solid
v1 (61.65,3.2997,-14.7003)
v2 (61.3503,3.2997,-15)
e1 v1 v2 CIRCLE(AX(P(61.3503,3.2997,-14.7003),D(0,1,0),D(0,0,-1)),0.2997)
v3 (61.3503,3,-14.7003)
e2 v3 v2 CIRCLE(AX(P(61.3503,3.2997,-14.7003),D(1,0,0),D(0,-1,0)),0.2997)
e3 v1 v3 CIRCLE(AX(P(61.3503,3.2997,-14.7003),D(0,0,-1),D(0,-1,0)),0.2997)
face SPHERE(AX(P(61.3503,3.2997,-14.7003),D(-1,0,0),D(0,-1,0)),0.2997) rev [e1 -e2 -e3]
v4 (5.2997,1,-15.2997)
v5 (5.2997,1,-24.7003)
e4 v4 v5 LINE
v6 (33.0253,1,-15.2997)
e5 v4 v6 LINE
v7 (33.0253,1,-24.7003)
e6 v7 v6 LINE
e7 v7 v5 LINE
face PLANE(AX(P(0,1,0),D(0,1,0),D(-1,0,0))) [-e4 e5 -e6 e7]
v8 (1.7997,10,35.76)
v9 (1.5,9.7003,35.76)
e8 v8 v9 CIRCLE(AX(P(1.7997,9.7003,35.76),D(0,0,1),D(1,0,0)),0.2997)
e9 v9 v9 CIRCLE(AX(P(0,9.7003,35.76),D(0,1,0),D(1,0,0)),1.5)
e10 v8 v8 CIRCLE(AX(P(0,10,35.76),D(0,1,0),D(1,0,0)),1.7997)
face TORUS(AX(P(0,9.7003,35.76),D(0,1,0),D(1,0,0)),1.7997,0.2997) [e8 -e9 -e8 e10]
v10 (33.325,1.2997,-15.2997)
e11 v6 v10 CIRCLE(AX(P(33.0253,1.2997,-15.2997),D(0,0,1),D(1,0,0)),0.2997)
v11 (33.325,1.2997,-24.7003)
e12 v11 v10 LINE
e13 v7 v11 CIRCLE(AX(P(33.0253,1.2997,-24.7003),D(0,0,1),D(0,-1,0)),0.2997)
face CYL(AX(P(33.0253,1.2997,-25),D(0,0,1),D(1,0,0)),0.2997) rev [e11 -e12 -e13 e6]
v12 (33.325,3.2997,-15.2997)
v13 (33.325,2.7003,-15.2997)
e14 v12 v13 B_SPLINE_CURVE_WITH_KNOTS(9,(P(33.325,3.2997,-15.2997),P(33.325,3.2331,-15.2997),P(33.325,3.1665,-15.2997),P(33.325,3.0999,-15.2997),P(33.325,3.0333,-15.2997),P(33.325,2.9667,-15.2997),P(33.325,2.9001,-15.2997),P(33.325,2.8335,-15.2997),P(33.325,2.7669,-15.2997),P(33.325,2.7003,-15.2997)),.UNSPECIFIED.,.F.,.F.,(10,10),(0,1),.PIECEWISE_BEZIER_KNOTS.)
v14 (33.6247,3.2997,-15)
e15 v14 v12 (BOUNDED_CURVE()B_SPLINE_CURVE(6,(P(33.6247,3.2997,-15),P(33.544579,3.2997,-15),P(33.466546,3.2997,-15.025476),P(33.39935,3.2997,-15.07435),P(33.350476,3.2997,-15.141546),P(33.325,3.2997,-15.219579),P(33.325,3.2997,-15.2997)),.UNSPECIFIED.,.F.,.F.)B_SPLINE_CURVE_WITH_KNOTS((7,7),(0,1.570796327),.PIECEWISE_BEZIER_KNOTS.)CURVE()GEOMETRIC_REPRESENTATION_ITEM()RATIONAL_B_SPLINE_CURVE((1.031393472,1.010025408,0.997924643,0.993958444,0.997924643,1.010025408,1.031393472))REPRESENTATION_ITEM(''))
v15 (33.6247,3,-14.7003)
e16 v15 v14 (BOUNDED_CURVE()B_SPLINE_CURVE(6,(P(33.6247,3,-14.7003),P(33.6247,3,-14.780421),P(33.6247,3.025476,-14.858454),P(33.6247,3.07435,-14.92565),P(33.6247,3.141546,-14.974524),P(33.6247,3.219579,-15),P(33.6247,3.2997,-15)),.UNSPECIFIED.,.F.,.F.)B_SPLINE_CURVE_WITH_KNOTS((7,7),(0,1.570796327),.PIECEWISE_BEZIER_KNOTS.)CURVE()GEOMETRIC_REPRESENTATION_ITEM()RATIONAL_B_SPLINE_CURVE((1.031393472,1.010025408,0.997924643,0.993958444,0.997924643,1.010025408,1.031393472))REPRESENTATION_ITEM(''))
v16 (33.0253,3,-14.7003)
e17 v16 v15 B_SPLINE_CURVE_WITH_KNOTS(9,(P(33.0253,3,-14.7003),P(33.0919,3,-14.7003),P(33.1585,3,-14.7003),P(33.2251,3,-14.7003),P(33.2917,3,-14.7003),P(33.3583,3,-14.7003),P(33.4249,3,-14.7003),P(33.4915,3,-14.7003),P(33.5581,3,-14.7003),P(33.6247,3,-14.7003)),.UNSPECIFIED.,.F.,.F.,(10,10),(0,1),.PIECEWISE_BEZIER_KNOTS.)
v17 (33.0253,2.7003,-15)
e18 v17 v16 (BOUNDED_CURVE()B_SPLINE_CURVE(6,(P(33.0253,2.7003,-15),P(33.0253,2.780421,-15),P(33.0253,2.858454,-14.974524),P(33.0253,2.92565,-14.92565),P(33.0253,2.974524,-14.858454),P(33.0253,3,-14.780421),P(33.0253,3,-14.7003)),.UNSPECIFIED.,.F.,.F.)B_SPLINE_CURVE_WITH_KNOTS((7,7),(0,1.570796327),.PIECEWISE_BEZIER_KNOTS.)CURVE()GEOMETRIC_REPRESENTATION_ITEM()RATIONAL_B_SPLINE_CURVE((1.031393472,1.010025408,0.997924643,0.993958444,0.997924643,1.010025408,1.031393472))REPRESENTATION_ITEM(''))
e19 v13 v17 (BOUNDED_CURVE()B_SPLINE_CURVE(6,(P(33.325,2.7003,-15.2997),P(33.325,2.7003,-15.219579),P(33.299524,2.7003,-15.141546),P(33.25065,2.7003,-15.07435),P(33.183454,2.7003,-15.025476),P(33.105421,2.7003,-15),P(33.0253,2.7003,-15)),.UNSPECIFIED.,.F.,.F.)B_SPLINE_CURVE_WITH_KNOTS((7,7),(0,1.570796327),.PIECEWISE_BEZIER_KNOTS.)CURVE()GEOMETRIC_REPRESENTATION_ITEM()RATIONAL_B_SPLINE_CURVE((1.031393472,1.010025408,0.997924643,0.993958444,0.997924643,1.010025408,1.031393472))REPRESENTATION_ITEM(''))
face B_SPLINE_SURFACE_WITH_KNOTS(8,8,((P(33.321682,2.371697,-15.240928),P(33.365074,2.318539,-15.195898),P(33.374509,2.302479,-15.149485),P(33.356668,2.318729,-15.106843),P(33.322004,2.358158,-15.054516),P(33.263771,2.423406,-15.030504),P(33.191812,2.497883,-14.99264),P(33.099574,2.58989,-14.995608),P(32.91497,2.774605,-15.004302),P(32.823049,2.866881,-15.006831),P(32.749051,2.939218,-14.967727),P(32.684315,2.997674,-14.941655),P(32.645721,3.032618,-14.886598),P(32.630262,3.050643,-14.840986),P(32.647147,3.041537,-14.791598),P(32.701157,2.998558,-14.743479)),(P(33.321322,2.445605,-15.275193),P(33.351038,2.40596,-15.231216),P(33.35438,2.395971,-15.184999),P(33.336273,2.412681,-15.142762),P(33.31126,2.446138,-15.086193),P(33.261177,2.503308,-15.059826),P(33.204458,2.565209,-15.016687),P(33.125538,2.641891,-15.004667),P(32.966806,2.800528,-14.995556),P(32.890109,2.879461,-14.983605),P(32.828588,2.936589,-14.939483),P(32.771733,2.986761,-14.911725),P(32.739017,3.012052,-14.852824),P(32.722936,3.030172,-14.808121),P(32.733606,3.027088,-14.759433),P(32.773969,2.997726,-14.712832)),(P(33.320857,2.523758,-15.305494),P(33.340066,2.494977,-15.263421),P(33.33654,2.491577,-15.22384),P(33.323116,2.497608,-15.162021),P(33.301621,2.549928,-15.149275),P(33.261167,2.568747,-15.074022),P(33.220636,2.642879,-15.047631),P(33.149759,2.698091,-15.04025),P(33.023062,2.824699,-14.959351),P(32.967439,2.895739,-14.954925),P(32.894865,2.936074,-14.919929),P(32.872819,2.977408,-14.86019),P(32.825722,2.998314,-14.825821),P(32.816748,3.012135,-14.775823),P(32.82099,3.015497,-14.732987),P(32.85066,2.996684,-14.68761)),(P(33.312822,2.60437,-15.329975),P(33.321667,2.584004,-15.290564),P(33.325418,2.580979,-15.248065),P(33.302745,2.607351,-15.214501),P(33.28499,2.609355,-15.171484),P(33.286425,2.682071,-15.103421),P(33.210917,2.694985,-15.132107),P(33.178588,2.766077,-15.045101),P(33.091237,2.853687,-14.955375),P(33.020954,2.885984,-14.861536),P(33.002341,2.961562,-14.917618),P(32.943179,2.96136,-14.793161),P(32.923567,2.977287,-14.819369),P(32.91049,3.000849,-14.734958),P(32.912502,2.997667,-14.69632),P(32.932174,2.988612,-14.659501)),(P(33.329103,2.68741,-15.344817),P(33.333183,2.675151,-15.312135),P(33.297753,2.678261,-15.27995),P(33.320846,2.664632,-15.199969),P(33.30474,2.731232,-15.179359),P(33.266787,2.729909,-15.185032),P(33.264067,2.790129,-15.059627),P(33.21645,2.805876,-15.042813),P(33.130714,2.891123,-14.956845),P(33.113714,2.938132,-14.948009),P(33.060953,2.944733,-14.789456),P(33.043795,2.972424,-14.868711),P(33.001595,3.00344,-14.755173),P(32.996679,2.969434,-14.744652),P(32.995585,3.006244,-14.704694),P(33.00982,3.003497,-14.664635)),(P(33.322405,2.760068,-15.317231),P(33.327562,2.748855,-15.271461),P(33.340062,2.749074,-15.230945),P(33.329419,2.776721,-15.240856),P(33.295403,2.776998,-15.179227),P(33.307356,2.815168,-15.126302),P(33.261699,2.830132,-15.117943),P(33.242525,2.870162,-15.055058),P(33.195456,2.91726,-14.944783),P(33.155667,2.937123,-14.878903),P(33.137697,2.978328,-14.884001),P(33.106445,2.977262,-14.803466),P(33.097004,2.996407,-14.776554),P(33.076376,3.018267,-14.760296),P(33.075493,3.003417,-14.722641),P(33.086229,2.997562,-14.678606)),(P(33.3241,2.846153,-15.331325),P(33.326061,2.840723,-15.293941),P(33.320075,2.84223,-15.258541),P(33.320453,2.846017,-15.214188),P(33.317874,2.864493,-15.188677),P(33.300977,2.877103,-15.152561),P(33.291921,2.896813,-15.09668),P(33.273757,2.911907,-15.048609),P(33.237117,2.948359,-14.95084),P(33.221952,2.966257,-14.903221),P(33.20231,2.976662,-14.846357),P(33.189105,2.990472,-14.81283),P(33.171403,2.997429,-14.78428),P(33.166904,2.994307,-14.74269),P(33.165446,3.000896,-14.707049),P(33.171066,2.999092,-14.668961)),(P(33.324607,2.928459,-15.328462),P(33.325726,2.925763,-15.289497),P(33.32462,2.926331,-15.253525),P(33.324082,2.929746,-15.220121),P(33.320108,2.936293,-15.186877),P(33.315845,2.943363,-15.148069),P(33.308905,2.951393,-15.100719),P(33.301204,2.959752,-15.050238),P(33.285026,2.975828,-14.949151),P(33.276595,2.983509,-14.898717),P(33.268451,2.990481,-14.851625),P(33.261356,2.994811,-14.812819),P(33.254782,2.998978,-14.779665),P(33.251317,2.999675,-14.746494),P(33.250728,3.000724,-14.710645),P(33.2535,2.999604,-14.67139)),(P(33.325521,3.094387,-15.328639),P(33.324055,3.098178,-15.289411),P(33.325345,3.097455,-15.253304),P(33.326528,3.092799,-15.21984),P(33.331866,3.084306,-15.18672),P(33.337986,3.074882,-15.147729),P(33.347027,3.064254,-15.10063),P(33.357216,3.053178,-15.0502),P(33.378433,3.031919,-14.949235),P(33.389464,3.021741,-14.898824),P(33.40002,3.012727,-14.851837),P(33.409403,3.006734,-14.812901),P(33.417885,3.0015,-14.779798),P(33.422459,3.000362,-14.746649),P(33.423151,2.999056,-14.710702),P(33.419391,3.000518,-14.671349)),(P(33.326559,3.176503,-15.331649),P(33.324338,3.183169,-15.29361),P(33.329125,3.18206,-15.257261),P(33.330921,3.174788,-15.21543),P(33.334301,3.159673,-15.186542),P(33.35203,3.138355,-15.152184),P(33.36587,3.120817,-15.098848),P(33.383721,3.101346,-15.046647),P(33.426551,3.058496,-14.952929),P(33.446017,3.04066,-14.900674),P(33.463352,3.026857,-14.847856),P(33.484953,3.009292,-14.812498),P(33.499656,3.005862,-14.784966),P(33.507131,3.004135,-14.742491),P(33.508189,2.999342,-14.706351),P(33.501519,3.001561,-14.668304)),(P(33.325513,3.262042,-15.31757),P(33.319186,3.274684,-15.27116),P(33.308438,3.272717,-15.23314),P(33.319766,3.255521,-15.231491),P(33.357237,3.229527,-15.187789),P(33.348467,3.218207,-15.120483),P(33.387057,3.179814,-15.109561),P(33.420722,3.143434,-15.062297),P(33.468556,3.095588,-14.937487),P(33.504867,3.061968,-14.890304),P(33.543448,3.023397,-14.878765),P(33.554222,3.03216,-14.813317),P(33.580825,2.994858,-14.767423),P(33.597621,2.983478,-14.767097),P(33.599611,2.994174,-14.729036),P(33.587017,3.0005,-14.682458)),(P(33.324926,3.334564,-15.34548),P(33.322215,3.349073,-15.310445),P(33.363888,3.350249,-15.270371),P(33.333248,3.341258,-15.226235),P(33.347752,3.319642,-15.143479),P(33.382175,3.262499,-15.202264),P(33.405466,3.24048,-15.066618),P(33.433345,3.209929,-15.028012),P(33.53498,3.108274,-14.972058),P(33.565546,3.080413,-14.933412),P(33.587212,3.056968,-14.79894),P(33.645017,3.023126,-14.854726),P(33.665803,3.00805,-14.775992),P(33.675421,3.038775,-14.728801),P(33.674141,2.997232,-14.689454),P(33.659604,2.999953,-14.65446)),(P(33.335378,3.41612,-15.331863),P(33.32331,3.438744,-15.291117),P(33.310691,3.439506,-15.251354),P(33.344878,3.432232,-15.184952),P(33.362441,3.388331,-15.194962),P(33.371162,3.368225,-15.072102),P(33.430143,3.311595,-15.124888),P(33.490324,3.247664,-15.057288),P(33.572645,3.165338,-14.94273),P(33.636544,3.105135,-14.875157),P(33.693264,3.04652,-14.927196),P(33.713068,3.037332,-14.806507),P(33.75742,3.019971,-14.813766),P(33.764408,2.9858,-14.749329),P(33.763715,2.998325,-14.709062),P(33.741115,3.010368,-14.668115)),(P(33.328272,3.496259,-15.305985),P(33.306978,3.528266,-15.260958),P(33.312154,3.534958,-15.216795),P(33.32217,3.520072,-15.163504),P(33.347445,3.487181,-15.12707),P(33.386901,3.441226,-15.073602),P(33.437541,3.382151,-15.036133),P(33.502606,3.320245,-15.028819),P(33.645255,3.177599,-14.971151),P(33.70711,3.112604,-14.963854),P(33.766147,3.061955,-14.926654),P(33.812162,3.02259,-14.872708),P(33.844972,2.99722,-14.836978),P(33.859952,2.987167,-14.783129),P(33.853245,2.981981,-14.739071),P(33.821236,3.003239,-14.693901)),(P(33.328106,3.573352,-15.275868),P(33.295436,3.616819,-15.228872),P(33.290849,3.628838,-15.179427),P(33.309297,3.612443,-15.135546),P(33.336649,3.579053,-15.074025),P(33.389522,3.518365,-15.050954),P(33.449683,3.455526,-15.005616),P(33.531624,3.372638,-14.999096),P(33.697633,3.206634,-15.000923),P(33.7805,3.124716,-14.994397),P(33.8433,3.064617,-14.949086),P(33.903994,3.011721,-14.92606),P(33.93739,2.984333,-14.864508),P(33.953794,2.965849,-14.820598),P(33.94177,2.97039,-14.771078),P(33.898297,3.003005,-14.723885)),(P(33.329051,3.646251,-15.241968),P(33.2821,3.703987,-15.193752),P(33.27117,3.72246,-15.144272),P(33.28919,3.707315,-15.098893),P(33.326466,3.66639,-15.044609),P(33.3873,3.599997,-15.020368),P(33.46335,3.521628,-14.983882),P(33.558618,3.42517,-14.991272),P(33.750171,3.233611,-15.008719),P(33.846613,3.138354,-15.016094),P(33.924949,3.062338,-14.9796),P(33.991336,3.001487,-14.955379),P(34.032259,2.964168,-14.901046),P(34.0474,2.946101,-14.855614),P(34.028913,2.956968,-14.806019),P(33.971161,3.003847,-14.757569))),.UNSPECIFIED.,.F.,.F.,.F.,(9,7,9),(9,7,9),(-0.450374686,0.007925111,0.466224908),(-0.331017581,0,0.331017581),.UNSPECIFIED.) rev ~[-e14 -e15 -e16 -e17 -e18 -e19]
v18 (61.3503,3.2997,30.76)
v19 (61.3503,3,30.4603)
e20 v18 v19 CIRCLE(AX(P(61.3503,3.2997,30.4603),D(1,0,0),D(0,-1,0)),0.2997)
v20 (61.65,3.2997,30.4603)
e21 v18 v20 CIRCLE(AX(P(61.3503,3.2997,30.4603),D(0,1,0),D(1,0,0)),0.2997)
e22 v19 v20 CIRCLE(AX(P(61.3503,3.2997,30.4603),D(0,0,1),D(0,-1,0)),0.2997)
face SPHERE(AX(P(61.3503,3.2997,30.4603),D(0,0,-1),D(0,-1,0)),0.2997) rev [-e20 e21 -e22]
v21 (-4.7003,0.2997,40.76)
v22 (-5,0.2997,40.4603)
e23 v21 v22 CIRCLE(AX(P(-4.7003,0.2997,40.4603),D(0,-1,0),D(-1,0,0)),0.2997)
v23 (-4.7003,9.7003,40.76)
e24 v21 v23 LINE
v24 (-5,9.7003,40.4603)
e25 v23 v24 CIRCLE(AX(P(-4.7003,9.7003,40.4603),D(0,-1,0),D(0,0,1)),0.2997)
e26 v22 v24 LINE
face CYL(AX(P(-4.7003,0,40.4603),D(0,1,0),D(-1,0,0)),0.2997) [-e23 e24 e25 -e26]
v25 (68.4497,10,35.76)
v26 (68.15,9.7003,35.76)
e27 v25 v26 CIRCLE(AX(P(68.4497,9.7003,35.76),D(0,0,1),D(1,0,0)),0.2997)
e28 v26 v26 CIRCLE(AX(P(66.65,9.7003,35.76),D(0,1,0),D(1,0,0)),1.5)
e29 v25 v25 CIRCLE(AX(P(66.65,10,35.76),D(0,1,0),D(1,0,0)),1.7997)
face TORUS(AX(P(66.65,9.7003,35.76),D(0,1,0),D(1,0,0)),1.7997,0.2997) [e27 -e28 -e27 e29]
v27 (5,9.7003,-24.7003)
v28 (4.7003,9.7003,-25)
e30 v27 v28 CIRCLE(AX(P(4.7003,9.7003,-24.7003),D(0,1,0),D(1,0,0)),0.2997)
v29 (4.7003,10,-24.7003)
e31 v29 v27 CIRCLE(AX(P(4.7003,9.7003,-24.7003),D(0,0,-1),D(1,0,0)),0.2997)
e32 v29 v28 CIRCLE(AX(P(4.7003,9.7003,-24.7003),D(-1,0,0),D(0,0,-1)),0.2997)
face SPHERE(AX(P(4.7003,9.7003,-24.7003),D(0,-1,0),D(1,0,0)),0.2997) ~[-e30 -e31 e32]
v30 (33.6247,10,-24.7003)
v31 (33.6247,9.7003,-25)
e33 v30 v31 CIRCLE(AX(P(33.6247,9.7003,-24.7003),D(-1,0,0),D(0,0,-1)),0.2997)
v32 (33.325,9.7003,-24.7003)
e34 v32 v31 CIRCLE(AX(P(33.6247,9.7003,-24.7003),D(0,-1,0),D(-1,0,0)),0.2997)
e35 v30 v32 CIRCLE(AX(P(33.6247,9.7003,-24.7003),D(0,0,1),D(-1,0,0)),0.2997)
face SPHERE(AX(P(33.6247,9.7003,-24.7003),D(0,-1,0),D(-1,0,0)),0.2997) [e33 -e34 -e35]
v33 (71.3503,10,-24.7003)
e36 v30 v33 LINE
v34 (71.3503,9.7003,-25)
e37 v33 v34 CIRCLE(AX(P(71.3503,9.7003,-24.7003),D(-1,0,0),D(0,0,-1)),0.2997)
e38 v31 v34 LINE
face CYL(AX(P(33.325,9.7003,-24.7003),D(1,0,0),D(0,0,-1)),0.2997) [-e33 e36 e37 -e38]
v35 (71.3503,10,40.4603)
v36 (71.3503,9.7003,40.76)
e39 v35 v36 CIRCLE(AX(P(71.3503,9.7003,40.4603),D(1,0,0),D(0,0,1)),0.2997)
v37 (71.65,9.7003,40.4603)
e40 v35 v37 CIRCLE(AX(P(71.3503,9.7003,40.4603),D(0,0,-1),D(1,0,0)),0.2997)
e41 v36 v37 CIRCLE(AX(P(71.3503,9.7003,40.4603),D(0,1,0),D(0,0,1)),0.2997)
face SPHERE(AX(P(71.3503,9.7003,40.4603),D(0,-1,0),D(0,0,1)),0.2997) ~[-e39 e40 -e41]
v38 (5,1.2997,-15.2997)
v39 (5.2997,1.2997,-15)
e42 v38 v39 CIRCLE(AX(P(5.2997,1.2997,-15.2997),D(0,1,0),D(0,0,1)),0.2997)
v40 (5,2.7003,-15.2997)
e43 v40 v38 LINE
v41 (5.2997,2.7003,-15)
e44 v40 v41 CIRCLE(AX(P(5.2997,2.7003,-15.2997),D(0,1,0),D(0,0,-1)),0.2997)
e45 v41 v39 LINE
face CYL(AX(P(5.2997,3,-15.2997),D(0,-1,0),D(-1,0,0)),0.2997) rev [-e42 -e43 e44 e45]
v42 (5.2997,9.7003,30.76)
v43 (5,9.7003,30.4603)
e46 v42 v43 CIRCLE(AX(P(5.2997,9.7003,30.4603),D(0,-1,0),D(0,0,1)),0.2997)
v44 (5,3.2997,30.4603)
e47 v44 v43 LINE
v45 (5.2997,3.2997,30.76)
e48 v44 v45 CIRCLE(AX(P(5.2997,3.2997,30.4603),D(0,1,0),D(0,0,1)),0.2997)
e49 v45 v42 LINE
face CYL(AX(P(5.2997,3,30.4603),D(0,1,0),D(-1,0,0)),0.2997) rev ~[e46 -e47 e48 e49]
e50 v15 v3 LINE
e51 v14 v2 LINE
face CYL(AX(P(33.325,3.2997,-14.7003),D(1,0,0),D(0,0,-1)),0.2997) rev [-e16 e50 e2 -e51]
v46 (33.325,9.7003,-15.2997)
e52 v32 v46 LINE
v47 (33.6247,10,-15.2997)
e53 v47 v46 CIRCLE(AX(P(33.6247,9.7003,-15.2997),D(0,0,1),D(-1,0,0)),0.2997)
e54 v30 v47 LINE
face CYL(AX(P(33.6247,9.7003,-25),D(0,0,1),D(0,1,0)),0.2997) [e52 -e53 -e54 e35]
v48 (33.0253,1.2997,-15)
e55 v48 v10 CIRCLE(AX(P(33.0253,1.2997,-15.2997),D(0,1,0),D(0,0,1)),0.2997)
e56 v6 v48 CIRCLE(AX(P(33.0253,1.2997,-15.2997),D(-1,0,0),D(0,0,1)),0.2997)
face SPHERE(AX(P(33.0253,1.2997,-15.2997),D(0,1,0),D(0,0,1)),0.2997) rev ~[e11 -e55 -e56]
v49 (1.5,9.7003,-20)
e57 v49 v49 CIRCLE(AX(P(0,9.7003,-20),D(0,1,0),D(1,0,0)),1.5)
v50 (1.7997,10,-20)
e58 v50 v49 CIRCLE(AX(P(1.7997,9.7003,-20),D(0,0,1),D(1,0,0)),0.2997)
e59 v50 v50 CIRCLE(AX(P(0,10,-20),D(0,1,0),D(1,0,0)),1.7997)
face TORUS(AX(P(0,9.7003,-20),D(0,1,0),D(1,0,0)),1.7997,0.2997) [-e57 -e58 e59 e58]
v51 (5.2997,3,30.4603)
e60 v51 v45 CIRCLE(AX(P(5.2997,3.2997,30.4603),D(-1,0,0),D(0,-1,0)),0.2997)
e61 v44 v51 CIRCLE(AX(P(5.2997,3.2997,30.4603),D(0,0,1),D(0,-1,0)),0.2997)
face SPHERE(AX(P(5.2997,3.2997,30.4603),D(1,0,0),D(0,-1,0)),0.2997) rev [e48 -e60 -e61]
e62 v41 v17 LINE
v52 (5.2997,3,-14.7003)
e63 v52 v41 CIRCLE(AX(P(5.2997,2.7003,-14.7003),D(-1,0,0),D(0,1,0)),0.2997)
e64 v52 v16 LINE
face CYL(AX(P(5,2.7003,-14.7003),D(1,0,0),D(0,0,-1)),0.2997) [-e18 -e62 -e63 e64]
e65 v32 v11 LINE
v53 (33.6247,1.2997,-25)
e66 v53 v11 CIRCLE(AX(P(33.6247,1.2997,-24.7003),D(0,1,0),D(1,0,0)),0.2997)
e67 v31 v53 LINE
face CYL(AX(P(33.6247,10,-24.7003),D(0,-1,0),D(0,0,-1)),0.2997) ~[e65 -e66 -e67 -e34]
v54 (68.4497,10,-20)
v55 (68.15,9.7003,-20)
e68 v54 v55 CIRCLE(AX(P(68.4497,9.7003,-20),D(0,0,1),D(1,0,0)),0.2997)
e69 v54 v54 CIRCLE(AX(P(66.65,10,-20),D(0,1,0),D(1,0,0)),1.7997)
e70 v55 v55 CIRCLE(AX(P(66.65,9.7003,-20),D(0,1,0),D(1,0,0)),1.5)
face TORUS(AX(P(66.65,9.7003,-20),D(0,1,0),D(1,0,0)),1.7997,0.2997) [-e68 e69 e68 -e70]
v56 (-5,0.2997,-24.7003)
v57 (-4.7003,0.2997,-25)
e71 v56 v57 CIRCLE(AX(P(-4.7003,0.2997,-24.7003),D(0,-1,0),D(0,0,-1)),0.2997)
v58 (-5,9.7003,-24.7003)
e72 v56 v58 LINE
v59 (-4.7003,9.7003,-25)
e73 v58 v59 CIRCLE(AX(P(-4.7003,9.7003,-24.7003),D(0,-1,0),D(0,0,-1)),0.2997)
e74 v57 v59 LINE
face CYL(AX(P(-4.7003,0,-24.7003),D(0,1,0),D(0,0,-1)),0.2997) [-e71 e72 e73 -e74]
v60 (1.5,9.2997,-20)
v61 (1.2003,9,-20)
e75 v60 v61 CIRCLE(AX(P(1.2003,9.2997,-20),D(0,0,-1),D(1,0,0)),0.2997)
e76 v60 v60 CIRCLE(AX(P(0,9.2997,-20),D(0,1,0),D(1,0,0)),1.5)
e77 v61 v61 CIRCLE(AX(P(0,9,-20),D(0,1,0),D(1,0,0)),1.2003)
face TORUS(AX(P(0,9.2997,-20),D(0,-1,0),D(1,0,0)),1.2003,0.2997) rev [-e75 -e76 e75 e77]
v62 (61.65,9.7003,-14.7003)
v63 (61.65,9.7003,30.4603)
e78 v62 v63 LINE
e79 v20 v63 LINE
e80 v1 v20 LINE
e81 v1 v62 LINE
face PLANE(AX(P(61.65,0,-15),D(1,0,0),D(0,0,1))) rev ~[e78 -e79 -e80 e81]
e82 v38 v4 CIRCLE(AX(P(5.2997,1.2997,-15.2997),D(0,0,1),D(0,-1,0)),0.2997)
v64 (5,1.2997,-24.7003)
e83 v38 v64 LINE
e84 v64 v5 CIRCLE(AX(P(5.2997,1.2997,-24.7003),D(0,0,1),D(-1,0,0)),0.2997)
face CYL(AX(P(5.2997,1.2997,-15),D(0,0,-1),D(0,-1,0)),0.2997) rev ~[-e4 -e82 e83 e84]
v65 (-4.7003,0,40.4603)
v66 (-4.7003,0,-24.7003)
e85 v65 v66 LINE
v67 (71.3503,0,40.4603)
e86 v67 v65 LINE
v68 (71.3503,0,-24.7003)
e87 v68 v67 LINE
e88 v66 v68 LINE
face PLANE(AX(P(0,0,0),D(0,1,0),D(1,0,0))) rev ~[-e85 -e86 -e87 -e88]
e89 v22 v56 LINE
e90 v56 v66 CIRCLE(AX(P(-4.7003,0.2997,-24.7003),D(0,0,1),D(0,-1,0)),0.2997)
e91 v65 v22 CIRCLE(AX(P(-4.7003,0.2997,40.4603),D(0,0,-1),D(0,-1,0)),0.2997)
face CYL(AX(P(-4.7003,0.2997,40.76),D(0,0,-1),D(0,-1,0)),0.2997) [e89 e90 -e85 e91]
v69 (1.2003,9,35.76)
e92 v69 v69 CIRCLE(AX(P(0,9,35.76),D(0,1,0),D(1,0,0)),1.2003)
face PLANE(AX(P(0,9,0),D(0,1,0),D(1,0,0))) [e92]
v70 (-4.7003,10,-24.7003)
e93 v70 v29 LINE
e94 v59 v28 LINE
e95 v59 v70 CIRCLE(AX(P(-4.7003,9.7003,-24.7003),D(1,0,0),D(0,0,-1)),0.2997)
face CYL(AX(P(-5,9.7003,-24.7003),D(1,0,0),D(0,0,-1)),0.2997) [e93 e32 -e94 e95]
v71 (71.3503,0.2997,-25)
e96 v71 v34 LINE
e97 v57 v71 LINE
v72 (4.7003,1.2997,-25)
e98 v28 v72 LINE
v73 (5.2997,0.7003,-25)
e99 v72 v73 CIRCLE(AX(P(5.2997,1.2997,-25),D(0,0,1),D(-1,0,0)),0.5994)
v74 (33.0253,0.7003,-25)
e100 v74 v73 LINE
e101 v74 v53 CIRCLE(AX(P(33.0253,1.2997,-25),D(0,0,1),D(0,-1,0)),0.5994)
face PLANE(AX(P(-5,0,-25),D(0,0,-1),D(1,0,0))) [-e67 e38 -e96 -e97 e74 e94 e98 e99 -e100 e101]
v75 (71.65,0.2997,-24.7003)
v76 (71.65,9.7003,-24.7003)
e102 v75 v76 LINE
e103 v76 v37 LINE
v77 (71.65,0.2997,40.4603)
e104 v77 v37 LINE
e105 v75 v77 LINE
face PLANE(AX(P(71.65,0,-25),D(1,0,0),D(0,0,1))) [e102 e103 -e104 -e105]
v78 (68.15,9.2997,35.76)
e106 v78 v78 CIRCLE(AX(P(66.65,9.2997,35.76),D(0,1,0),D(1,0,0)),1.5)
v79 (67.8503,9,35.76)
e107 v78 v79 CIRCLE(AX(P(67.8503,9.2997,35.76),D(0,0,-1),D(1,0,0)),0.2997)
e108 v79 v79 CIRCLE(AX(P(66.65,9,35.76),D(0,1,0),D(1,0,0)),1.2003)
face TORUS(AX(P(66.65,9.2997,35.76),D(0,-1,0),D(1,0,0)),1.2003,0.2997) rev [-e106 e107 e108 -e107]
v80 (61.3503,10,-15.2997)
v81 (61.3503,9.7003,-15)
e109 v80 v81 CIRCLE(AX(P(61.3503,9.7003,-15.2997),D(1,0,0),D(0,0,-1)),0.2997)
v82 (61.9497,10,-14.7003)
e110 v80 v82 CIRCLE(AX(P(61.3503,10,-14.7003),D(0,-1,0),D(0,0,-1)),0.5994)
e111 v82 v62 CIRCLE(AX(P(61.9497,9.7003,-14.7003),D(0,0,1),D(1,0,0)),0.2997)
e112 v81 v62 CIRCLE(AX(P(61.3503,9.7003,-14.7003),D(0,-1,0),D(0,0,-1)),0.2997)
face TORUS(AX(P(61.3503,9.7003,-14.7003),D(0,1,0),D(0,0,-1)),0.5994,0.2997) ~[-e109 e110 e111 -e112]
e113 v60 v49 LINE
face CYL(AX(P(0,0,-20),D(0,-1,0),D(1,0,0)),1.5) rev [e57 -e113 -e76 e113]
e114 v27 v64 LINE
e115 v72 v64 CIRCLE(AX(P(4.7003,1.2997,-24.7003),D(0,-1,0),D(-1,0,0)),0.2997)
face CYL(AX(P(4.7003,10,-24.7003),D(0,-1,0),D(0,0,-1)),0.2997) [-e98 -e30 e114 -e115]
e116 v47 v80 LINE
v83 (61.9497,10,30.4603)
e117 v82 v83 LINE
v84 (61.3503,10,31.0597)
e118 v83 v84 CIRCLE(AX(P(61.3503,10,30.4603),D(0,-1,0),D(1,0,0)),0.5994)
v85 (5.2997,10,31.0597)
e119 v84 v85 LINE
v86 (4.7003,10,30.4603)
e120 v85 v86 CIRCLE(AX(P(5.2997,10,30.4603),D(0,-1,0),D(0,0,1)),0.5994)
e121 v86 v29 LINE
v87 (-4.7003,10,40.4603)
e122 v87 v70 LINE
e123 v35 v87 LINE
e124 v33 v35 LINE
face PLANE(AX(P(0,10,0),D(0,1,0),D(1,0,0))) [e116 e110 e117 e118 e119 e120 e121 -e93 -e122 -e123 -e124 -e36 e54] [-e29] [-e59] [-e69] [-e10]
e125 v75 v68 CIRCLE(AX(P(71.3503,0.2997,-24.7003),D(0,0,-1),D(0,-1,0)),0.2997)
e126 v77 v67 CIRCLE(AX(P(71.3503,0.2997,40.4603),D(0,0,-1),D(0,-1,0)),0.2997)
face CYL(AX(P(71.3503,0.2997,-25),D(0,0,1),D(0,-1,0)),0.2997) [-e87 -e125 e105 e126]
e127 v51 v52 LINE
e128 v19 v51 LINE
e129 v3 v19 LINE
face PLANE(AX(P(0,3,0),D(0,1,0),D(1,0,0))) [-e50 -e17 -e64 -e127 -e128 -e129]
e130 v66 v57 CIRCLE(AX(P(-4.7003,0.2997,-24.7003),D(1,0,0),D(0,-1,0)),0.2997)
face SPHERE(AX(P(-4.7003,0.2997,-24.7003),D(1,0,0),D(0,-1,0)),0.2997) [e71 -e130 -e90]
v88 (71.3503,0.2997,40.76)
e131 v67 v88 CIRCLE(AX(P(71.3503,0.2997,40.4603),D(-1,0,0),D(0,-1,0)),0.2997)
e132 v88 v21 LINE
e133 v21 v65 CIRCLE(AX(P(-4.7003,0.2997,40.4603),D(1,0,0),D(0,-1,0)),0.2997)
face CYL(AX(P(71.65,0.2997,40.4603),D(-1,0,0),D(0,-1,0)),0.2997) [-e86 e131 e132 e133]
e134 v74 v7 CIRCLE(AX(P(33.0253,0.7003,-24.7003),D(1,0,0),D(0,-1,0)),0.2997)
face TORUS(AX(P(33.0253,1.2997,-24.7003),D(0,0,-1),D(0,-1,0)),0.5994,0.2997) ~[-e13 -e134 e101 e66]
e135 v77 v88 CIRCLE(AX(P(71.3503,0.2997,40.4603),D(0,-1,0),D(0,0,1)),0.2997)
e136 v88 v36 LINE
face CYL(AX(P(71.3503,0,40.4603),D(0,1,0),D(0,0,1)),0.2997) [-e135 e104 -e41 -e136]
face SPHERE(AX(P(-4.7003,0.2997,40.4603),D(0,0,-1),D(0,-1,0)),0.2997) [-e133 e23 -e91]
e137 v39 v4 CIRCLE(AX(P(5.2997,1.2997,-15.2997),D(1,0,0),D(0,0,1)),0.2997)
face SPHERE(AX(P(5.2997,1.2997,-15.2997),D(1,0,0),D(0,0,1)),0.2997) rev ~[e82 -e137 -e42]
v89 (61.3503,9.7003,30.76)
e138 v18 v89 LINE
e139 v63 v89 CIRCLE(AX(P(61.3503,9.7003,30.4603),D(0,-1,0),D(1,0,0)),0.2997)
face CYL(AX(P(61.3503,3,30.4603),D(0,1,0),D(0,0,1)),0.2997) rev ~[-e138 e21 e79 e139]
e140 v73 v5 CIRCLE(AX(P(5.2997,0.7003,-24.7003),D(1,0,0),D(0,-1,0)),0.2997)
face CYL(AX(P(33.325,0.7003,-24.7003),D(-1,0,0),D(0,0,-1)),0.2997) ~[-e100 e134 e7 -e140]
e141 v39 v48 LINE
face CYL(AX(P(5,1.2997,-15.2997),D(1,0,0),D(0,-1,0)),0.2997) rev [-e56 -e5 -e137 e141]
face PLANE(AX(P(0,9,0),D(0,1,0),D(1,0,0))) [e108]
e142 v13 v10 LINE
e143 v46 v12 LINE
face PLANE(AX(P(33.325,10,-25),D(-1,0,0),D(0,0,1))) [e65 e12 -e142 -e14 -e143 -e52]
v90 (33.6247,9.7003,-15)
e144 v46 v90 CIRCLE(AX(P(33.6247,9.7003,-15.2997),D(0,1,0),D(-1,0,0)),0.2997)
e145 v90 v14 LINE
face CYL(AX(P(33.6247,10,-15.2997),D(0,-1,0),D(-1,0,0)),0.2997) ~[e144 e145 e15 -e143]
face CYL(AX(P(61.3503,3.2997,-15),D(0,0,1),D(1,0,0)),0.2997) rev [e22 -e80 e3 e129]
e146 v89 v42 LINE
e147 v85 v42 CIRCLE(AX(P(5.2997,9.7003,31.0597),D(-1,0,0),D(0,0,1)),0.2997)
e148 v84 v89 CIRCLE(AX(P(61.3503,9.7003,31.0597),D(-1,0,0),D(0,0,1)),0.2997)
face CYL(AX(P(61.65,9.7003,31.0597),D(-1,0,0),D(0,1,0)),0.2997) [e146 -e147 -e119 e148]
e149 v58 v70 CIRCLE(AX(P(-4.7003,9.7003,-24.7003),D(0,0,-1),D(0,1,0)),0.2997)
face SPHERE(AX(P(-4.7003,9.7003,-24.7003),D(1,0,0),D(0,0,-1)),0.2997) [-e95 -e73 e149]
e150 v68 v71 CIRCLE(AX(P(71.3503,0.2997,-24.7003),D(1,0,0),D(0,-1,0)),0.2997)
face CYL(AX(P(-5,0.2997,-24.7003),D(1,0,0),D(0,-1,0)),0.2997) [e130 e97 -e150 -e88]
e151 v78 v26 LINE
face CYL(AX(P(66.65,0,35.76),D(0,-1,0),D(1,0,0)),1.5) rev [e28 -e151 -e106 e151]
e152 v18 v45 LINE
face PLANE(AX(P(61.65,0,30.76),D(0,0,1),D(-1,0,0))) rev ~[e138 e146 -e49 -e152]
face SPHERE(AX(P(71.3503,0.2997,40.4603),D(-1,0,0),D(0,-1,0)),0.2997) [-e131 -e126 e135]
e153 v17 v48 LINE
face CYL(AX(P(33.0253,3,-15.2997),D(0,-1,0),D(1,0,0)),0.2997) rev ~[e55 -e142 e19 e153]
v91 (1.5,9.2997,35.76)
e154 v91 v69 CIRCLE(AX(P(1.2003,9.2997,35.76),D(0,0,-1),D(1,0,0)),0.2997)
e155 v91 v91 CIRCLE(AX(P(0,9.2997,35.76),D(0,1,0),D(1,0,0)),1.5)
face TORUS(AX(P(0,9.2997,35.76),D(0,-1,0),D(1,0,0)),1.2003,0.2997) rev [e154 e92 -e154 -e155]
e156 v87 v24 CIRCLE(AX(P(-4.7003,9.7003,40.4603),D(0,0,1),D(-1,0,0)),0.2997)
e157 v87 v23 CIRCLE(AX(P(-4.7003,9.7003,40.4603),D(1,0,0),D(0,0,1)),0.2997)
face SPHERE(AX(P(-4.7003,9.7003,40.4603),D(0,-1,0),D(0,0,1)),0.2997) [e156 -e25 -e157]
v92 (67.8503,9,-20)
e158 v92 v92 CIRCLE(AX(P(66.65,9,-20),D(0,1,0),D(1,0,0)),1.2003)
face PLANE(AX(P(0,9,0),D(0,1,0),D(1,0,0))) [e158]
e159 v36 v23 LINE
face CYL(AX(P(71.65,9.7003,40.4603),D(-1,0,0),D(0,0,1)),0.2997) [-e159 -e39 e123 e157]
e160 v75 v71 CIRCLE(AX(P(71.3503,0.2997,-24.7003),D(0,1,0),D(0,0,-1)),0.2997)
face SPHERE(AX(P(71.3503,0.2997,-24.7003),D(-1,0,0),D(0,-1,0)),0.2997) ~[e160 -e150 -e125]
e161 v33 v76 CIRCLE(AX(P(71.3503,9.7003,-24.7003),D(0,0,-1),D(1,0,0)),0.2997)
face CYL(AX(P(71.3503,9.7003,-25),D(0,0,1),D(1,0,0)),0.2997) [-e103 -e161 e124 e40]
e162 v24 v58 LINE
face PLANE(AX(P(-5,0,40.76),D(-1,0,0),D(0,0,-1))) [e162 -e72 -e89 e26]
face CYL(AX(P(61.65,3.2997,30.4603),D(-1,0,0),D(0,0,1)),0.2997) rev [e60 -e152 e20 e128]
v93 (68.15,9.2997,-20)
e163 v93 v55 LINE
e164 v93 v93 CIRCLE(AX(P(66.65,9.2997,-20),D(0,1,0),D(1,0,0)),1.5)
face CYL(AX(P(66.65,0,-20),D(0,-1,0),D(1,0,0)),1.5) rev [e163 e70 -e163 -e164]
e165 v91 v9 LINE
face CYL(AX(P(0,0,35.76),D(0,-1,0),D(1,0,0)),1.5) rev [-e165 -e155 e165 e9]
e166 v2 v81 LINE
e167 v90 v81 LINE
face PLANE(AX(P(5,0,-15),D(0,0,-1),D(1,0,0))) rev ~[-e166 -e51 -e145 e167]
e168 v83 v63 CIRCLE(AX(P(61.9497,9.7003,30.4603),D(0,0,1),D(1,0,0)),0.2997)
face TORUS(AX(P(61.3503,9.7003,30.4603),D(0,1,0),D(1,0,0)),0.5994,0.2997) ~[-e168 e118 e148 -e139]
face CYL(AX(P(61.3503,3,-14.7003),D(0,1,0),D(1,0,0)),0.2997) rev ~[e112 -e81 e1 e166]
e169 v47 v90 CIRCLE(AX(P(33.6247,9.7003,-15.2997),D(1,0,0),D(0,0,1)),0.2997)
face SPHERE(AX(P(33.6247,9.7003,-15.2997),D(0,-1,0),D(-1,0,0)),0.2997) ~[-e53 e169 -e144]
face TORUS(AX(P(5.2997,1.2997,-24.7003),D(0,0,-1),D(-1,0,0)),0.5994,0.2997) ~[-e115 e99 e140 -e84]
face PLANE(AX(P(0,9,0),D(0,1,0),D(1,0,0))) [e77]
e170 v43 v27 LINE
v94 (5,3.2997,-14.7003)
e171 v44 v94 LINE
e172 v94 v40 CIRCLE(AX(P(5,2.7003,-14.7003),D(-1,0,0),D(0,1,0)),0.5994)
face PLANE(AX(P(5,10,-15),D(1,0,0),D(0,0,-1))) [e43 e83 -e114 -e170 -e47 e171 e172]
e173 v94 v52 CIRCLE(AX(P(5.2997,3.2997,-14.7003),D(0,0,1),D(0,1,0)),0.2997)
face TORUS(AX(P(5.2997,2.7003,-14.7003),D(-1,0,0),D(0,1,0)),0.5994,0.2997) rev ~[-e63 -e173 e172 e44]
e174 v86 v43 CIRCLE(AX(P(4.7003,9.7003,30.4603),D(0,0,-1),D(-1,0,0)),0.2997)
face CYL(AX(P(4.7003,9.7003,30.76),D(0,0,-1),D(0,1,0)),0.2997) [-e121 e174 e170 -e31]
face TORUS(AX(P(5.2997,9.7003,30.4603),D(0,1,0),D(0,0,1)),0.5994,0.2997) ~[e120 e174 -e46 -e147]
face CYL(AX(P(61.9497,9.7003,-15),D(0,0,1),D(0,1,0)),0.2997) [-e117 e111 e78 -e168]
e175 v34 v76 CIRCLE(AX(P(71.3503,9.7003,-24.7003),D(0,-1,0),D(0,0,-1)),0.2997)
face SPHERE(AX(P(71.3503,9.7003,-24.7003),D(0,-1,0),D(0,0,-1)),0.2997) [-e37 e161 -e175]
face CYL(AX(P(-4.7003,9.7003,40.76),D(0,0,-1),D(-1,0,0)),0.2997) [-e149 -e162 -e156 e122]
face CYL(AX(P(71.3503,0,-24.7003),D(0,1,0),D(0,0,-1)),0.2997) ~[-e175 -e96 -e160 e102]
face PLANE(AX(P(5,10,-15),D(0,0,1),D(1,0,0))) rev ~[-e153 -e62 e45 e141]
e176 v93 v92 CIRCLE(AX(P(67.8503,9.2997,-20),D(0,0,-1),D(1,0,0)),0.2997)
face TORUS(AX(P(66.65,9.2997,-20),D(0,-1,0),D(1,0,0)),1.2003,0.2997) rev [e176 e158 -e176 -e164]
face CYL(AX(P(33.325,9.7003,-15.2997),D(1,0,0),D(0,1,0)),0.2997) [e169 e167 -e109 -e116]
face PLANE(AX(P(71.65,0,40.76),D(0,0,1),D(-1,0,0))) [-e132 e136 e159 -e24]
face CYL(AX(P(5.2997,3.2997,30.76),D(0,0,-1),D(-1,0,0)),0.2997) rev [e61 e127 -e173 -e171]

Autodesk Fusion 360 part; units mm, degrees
sketch "Sketch1" plane through (0, 0, 0) normal (0, 1, 0) x (1, 0, 0)
  line L0 (5, 15) -> (61.65, 15)
  line L1 (61.65, 15) -> (61.65, -30.76)
  line L2 (61.65, -30.76) -> (5, -30.76)
  line L3 (5, -30.76) -> (5, 15)
  line L4 (-5, 25) -> (71.65, 25)
  line L5 (71.65, 25) -> (71.65, -40.76)
  line L6 (71.65, -40.76) -> (-5, -40.76)
  line L7 (-5, -40.76) -> (-5, 25)
  circle A0 centre (0, 20) radius 1.5
  circle A1 centre (66.65, 20) radius 1.5
  circle A2 centre (66.65, -35.76) radius 1.5
  circle A3 centre (0, -35.76) radius 1.5
  circle A4 centre (0, 20) radius 2.5
  circle A5 centre (66.65, 20) radius 2.5
  circle A6 centre (66.65, -35.76) radius 2.5
  circle A7 centre (0, -35.76) radius 2.5
  dimension "d1" = 56.65
  dimension "d2" = 45.76
  dimension "d3" = 65.76
  dimension "d4" = 10
  dimension "d5" = 76.65
  dimension "d6" = 10
  dimension "d7" = 3
  dimension "d8" = 3
  dimension "d9" = 3
  dimension "d10" = 3
  dimension "d11" = 5
  dimension "d12" = 5
  dimension "d13" = 5
  dimension "d14" = 5
  dimension "d15" = 5
  dimension "d16" = 5
  dimension "d17" = 5
  dimension "d18" = 5
  dimension "d19" = 5
  dimension "d20" = 5
  dimension "d21" = 5
  dimension "d22" = 5
extrude "Extrude1" add sketch "Sketch1" along normal blind 10 contours L4 L5 L6 L7 | A4 | A5 | A6 | A7
extrude "Extrude2" add sketch "Sketch1" along normal blind 9 contours A0 | A1 | A2 | A3
extrude "Extrude3" add sketch "Sketch1" along normal blind 3 contours L0 L1 L2 L3
sketch "Sketch2" plane through (0, 10, 0) normal (0, 1, 0) x (-1, 0, 0)
  circle A0 centre (-66.65, 35.76) radius 1.5
  circle A1 centre (0, 35.76) radius 1.5
  circle A2 centre (0, -20) radius 1.5
  circle A3 centre (-66.65, -20) radius 1.5
  line L0 (-61.65, 30.76) -> (-5, 30.76)
  line L1 (-5, 30.76) -> (-5, -15)
  line L2 (-5, -15) -> (-61.65, -15)
  line L3 (-61.65, -15) -> (-61.65, 30.76)
  line L4 (5, 40.76) -> (-71.65, 40.76)
  line L5 (-71.65, 40.76) -> (-71.65, -25)
  line L6 (-71.65, -25) -> (5, -25)
  line L7 (5, -25) -> (5, 40.76)
  line L8 (-5, -25) -> (-33.325, -25)
  line L9 (-33.325, -25) -> (-33.325, -15)
  line L10 (-33.325, -15) -> (-5, -15)
  line L11 (-5, -15) -> (-5, -25)
extrude "Extrude4" cut sketch "Sketch2" against normal blind 9 contours L2 L6 L8 L9 L10 L11
fillet "Fillet1" radius 0.3 22 faces at (33.325, 3, 15.5067) (14.4417, 2.3333, -15) (20.55, 0, -3.08) (67.6974, 9.3333, -21.0738) (66.7613, 9, 36.2475) (33.325, 4.6667, -21.6667) (0.4727, 9, -19.6357) (67.5256, 9.3333, 34.5421) (-1.4981, 9.6667, -19.9252) (66.5387, 9, -20.4875) (5, 7.6667, -3.08) (46.1, 6.6667, 40.76) (-0.8158, 9, 35.5431) (58.875, 3.6667, -25) (42.7667, 5.3333, 30.76) (42.7667, 5.3333, -15) (-5, 6.6667, 18.84) (-1.3822, 9.6667, 36.3427) (61.65, 5.3333, 0.2533) (42.7667, 10, -18.3333) (23.8833, 1, -18.3333) (71.65, 6.6667, -3.08)
